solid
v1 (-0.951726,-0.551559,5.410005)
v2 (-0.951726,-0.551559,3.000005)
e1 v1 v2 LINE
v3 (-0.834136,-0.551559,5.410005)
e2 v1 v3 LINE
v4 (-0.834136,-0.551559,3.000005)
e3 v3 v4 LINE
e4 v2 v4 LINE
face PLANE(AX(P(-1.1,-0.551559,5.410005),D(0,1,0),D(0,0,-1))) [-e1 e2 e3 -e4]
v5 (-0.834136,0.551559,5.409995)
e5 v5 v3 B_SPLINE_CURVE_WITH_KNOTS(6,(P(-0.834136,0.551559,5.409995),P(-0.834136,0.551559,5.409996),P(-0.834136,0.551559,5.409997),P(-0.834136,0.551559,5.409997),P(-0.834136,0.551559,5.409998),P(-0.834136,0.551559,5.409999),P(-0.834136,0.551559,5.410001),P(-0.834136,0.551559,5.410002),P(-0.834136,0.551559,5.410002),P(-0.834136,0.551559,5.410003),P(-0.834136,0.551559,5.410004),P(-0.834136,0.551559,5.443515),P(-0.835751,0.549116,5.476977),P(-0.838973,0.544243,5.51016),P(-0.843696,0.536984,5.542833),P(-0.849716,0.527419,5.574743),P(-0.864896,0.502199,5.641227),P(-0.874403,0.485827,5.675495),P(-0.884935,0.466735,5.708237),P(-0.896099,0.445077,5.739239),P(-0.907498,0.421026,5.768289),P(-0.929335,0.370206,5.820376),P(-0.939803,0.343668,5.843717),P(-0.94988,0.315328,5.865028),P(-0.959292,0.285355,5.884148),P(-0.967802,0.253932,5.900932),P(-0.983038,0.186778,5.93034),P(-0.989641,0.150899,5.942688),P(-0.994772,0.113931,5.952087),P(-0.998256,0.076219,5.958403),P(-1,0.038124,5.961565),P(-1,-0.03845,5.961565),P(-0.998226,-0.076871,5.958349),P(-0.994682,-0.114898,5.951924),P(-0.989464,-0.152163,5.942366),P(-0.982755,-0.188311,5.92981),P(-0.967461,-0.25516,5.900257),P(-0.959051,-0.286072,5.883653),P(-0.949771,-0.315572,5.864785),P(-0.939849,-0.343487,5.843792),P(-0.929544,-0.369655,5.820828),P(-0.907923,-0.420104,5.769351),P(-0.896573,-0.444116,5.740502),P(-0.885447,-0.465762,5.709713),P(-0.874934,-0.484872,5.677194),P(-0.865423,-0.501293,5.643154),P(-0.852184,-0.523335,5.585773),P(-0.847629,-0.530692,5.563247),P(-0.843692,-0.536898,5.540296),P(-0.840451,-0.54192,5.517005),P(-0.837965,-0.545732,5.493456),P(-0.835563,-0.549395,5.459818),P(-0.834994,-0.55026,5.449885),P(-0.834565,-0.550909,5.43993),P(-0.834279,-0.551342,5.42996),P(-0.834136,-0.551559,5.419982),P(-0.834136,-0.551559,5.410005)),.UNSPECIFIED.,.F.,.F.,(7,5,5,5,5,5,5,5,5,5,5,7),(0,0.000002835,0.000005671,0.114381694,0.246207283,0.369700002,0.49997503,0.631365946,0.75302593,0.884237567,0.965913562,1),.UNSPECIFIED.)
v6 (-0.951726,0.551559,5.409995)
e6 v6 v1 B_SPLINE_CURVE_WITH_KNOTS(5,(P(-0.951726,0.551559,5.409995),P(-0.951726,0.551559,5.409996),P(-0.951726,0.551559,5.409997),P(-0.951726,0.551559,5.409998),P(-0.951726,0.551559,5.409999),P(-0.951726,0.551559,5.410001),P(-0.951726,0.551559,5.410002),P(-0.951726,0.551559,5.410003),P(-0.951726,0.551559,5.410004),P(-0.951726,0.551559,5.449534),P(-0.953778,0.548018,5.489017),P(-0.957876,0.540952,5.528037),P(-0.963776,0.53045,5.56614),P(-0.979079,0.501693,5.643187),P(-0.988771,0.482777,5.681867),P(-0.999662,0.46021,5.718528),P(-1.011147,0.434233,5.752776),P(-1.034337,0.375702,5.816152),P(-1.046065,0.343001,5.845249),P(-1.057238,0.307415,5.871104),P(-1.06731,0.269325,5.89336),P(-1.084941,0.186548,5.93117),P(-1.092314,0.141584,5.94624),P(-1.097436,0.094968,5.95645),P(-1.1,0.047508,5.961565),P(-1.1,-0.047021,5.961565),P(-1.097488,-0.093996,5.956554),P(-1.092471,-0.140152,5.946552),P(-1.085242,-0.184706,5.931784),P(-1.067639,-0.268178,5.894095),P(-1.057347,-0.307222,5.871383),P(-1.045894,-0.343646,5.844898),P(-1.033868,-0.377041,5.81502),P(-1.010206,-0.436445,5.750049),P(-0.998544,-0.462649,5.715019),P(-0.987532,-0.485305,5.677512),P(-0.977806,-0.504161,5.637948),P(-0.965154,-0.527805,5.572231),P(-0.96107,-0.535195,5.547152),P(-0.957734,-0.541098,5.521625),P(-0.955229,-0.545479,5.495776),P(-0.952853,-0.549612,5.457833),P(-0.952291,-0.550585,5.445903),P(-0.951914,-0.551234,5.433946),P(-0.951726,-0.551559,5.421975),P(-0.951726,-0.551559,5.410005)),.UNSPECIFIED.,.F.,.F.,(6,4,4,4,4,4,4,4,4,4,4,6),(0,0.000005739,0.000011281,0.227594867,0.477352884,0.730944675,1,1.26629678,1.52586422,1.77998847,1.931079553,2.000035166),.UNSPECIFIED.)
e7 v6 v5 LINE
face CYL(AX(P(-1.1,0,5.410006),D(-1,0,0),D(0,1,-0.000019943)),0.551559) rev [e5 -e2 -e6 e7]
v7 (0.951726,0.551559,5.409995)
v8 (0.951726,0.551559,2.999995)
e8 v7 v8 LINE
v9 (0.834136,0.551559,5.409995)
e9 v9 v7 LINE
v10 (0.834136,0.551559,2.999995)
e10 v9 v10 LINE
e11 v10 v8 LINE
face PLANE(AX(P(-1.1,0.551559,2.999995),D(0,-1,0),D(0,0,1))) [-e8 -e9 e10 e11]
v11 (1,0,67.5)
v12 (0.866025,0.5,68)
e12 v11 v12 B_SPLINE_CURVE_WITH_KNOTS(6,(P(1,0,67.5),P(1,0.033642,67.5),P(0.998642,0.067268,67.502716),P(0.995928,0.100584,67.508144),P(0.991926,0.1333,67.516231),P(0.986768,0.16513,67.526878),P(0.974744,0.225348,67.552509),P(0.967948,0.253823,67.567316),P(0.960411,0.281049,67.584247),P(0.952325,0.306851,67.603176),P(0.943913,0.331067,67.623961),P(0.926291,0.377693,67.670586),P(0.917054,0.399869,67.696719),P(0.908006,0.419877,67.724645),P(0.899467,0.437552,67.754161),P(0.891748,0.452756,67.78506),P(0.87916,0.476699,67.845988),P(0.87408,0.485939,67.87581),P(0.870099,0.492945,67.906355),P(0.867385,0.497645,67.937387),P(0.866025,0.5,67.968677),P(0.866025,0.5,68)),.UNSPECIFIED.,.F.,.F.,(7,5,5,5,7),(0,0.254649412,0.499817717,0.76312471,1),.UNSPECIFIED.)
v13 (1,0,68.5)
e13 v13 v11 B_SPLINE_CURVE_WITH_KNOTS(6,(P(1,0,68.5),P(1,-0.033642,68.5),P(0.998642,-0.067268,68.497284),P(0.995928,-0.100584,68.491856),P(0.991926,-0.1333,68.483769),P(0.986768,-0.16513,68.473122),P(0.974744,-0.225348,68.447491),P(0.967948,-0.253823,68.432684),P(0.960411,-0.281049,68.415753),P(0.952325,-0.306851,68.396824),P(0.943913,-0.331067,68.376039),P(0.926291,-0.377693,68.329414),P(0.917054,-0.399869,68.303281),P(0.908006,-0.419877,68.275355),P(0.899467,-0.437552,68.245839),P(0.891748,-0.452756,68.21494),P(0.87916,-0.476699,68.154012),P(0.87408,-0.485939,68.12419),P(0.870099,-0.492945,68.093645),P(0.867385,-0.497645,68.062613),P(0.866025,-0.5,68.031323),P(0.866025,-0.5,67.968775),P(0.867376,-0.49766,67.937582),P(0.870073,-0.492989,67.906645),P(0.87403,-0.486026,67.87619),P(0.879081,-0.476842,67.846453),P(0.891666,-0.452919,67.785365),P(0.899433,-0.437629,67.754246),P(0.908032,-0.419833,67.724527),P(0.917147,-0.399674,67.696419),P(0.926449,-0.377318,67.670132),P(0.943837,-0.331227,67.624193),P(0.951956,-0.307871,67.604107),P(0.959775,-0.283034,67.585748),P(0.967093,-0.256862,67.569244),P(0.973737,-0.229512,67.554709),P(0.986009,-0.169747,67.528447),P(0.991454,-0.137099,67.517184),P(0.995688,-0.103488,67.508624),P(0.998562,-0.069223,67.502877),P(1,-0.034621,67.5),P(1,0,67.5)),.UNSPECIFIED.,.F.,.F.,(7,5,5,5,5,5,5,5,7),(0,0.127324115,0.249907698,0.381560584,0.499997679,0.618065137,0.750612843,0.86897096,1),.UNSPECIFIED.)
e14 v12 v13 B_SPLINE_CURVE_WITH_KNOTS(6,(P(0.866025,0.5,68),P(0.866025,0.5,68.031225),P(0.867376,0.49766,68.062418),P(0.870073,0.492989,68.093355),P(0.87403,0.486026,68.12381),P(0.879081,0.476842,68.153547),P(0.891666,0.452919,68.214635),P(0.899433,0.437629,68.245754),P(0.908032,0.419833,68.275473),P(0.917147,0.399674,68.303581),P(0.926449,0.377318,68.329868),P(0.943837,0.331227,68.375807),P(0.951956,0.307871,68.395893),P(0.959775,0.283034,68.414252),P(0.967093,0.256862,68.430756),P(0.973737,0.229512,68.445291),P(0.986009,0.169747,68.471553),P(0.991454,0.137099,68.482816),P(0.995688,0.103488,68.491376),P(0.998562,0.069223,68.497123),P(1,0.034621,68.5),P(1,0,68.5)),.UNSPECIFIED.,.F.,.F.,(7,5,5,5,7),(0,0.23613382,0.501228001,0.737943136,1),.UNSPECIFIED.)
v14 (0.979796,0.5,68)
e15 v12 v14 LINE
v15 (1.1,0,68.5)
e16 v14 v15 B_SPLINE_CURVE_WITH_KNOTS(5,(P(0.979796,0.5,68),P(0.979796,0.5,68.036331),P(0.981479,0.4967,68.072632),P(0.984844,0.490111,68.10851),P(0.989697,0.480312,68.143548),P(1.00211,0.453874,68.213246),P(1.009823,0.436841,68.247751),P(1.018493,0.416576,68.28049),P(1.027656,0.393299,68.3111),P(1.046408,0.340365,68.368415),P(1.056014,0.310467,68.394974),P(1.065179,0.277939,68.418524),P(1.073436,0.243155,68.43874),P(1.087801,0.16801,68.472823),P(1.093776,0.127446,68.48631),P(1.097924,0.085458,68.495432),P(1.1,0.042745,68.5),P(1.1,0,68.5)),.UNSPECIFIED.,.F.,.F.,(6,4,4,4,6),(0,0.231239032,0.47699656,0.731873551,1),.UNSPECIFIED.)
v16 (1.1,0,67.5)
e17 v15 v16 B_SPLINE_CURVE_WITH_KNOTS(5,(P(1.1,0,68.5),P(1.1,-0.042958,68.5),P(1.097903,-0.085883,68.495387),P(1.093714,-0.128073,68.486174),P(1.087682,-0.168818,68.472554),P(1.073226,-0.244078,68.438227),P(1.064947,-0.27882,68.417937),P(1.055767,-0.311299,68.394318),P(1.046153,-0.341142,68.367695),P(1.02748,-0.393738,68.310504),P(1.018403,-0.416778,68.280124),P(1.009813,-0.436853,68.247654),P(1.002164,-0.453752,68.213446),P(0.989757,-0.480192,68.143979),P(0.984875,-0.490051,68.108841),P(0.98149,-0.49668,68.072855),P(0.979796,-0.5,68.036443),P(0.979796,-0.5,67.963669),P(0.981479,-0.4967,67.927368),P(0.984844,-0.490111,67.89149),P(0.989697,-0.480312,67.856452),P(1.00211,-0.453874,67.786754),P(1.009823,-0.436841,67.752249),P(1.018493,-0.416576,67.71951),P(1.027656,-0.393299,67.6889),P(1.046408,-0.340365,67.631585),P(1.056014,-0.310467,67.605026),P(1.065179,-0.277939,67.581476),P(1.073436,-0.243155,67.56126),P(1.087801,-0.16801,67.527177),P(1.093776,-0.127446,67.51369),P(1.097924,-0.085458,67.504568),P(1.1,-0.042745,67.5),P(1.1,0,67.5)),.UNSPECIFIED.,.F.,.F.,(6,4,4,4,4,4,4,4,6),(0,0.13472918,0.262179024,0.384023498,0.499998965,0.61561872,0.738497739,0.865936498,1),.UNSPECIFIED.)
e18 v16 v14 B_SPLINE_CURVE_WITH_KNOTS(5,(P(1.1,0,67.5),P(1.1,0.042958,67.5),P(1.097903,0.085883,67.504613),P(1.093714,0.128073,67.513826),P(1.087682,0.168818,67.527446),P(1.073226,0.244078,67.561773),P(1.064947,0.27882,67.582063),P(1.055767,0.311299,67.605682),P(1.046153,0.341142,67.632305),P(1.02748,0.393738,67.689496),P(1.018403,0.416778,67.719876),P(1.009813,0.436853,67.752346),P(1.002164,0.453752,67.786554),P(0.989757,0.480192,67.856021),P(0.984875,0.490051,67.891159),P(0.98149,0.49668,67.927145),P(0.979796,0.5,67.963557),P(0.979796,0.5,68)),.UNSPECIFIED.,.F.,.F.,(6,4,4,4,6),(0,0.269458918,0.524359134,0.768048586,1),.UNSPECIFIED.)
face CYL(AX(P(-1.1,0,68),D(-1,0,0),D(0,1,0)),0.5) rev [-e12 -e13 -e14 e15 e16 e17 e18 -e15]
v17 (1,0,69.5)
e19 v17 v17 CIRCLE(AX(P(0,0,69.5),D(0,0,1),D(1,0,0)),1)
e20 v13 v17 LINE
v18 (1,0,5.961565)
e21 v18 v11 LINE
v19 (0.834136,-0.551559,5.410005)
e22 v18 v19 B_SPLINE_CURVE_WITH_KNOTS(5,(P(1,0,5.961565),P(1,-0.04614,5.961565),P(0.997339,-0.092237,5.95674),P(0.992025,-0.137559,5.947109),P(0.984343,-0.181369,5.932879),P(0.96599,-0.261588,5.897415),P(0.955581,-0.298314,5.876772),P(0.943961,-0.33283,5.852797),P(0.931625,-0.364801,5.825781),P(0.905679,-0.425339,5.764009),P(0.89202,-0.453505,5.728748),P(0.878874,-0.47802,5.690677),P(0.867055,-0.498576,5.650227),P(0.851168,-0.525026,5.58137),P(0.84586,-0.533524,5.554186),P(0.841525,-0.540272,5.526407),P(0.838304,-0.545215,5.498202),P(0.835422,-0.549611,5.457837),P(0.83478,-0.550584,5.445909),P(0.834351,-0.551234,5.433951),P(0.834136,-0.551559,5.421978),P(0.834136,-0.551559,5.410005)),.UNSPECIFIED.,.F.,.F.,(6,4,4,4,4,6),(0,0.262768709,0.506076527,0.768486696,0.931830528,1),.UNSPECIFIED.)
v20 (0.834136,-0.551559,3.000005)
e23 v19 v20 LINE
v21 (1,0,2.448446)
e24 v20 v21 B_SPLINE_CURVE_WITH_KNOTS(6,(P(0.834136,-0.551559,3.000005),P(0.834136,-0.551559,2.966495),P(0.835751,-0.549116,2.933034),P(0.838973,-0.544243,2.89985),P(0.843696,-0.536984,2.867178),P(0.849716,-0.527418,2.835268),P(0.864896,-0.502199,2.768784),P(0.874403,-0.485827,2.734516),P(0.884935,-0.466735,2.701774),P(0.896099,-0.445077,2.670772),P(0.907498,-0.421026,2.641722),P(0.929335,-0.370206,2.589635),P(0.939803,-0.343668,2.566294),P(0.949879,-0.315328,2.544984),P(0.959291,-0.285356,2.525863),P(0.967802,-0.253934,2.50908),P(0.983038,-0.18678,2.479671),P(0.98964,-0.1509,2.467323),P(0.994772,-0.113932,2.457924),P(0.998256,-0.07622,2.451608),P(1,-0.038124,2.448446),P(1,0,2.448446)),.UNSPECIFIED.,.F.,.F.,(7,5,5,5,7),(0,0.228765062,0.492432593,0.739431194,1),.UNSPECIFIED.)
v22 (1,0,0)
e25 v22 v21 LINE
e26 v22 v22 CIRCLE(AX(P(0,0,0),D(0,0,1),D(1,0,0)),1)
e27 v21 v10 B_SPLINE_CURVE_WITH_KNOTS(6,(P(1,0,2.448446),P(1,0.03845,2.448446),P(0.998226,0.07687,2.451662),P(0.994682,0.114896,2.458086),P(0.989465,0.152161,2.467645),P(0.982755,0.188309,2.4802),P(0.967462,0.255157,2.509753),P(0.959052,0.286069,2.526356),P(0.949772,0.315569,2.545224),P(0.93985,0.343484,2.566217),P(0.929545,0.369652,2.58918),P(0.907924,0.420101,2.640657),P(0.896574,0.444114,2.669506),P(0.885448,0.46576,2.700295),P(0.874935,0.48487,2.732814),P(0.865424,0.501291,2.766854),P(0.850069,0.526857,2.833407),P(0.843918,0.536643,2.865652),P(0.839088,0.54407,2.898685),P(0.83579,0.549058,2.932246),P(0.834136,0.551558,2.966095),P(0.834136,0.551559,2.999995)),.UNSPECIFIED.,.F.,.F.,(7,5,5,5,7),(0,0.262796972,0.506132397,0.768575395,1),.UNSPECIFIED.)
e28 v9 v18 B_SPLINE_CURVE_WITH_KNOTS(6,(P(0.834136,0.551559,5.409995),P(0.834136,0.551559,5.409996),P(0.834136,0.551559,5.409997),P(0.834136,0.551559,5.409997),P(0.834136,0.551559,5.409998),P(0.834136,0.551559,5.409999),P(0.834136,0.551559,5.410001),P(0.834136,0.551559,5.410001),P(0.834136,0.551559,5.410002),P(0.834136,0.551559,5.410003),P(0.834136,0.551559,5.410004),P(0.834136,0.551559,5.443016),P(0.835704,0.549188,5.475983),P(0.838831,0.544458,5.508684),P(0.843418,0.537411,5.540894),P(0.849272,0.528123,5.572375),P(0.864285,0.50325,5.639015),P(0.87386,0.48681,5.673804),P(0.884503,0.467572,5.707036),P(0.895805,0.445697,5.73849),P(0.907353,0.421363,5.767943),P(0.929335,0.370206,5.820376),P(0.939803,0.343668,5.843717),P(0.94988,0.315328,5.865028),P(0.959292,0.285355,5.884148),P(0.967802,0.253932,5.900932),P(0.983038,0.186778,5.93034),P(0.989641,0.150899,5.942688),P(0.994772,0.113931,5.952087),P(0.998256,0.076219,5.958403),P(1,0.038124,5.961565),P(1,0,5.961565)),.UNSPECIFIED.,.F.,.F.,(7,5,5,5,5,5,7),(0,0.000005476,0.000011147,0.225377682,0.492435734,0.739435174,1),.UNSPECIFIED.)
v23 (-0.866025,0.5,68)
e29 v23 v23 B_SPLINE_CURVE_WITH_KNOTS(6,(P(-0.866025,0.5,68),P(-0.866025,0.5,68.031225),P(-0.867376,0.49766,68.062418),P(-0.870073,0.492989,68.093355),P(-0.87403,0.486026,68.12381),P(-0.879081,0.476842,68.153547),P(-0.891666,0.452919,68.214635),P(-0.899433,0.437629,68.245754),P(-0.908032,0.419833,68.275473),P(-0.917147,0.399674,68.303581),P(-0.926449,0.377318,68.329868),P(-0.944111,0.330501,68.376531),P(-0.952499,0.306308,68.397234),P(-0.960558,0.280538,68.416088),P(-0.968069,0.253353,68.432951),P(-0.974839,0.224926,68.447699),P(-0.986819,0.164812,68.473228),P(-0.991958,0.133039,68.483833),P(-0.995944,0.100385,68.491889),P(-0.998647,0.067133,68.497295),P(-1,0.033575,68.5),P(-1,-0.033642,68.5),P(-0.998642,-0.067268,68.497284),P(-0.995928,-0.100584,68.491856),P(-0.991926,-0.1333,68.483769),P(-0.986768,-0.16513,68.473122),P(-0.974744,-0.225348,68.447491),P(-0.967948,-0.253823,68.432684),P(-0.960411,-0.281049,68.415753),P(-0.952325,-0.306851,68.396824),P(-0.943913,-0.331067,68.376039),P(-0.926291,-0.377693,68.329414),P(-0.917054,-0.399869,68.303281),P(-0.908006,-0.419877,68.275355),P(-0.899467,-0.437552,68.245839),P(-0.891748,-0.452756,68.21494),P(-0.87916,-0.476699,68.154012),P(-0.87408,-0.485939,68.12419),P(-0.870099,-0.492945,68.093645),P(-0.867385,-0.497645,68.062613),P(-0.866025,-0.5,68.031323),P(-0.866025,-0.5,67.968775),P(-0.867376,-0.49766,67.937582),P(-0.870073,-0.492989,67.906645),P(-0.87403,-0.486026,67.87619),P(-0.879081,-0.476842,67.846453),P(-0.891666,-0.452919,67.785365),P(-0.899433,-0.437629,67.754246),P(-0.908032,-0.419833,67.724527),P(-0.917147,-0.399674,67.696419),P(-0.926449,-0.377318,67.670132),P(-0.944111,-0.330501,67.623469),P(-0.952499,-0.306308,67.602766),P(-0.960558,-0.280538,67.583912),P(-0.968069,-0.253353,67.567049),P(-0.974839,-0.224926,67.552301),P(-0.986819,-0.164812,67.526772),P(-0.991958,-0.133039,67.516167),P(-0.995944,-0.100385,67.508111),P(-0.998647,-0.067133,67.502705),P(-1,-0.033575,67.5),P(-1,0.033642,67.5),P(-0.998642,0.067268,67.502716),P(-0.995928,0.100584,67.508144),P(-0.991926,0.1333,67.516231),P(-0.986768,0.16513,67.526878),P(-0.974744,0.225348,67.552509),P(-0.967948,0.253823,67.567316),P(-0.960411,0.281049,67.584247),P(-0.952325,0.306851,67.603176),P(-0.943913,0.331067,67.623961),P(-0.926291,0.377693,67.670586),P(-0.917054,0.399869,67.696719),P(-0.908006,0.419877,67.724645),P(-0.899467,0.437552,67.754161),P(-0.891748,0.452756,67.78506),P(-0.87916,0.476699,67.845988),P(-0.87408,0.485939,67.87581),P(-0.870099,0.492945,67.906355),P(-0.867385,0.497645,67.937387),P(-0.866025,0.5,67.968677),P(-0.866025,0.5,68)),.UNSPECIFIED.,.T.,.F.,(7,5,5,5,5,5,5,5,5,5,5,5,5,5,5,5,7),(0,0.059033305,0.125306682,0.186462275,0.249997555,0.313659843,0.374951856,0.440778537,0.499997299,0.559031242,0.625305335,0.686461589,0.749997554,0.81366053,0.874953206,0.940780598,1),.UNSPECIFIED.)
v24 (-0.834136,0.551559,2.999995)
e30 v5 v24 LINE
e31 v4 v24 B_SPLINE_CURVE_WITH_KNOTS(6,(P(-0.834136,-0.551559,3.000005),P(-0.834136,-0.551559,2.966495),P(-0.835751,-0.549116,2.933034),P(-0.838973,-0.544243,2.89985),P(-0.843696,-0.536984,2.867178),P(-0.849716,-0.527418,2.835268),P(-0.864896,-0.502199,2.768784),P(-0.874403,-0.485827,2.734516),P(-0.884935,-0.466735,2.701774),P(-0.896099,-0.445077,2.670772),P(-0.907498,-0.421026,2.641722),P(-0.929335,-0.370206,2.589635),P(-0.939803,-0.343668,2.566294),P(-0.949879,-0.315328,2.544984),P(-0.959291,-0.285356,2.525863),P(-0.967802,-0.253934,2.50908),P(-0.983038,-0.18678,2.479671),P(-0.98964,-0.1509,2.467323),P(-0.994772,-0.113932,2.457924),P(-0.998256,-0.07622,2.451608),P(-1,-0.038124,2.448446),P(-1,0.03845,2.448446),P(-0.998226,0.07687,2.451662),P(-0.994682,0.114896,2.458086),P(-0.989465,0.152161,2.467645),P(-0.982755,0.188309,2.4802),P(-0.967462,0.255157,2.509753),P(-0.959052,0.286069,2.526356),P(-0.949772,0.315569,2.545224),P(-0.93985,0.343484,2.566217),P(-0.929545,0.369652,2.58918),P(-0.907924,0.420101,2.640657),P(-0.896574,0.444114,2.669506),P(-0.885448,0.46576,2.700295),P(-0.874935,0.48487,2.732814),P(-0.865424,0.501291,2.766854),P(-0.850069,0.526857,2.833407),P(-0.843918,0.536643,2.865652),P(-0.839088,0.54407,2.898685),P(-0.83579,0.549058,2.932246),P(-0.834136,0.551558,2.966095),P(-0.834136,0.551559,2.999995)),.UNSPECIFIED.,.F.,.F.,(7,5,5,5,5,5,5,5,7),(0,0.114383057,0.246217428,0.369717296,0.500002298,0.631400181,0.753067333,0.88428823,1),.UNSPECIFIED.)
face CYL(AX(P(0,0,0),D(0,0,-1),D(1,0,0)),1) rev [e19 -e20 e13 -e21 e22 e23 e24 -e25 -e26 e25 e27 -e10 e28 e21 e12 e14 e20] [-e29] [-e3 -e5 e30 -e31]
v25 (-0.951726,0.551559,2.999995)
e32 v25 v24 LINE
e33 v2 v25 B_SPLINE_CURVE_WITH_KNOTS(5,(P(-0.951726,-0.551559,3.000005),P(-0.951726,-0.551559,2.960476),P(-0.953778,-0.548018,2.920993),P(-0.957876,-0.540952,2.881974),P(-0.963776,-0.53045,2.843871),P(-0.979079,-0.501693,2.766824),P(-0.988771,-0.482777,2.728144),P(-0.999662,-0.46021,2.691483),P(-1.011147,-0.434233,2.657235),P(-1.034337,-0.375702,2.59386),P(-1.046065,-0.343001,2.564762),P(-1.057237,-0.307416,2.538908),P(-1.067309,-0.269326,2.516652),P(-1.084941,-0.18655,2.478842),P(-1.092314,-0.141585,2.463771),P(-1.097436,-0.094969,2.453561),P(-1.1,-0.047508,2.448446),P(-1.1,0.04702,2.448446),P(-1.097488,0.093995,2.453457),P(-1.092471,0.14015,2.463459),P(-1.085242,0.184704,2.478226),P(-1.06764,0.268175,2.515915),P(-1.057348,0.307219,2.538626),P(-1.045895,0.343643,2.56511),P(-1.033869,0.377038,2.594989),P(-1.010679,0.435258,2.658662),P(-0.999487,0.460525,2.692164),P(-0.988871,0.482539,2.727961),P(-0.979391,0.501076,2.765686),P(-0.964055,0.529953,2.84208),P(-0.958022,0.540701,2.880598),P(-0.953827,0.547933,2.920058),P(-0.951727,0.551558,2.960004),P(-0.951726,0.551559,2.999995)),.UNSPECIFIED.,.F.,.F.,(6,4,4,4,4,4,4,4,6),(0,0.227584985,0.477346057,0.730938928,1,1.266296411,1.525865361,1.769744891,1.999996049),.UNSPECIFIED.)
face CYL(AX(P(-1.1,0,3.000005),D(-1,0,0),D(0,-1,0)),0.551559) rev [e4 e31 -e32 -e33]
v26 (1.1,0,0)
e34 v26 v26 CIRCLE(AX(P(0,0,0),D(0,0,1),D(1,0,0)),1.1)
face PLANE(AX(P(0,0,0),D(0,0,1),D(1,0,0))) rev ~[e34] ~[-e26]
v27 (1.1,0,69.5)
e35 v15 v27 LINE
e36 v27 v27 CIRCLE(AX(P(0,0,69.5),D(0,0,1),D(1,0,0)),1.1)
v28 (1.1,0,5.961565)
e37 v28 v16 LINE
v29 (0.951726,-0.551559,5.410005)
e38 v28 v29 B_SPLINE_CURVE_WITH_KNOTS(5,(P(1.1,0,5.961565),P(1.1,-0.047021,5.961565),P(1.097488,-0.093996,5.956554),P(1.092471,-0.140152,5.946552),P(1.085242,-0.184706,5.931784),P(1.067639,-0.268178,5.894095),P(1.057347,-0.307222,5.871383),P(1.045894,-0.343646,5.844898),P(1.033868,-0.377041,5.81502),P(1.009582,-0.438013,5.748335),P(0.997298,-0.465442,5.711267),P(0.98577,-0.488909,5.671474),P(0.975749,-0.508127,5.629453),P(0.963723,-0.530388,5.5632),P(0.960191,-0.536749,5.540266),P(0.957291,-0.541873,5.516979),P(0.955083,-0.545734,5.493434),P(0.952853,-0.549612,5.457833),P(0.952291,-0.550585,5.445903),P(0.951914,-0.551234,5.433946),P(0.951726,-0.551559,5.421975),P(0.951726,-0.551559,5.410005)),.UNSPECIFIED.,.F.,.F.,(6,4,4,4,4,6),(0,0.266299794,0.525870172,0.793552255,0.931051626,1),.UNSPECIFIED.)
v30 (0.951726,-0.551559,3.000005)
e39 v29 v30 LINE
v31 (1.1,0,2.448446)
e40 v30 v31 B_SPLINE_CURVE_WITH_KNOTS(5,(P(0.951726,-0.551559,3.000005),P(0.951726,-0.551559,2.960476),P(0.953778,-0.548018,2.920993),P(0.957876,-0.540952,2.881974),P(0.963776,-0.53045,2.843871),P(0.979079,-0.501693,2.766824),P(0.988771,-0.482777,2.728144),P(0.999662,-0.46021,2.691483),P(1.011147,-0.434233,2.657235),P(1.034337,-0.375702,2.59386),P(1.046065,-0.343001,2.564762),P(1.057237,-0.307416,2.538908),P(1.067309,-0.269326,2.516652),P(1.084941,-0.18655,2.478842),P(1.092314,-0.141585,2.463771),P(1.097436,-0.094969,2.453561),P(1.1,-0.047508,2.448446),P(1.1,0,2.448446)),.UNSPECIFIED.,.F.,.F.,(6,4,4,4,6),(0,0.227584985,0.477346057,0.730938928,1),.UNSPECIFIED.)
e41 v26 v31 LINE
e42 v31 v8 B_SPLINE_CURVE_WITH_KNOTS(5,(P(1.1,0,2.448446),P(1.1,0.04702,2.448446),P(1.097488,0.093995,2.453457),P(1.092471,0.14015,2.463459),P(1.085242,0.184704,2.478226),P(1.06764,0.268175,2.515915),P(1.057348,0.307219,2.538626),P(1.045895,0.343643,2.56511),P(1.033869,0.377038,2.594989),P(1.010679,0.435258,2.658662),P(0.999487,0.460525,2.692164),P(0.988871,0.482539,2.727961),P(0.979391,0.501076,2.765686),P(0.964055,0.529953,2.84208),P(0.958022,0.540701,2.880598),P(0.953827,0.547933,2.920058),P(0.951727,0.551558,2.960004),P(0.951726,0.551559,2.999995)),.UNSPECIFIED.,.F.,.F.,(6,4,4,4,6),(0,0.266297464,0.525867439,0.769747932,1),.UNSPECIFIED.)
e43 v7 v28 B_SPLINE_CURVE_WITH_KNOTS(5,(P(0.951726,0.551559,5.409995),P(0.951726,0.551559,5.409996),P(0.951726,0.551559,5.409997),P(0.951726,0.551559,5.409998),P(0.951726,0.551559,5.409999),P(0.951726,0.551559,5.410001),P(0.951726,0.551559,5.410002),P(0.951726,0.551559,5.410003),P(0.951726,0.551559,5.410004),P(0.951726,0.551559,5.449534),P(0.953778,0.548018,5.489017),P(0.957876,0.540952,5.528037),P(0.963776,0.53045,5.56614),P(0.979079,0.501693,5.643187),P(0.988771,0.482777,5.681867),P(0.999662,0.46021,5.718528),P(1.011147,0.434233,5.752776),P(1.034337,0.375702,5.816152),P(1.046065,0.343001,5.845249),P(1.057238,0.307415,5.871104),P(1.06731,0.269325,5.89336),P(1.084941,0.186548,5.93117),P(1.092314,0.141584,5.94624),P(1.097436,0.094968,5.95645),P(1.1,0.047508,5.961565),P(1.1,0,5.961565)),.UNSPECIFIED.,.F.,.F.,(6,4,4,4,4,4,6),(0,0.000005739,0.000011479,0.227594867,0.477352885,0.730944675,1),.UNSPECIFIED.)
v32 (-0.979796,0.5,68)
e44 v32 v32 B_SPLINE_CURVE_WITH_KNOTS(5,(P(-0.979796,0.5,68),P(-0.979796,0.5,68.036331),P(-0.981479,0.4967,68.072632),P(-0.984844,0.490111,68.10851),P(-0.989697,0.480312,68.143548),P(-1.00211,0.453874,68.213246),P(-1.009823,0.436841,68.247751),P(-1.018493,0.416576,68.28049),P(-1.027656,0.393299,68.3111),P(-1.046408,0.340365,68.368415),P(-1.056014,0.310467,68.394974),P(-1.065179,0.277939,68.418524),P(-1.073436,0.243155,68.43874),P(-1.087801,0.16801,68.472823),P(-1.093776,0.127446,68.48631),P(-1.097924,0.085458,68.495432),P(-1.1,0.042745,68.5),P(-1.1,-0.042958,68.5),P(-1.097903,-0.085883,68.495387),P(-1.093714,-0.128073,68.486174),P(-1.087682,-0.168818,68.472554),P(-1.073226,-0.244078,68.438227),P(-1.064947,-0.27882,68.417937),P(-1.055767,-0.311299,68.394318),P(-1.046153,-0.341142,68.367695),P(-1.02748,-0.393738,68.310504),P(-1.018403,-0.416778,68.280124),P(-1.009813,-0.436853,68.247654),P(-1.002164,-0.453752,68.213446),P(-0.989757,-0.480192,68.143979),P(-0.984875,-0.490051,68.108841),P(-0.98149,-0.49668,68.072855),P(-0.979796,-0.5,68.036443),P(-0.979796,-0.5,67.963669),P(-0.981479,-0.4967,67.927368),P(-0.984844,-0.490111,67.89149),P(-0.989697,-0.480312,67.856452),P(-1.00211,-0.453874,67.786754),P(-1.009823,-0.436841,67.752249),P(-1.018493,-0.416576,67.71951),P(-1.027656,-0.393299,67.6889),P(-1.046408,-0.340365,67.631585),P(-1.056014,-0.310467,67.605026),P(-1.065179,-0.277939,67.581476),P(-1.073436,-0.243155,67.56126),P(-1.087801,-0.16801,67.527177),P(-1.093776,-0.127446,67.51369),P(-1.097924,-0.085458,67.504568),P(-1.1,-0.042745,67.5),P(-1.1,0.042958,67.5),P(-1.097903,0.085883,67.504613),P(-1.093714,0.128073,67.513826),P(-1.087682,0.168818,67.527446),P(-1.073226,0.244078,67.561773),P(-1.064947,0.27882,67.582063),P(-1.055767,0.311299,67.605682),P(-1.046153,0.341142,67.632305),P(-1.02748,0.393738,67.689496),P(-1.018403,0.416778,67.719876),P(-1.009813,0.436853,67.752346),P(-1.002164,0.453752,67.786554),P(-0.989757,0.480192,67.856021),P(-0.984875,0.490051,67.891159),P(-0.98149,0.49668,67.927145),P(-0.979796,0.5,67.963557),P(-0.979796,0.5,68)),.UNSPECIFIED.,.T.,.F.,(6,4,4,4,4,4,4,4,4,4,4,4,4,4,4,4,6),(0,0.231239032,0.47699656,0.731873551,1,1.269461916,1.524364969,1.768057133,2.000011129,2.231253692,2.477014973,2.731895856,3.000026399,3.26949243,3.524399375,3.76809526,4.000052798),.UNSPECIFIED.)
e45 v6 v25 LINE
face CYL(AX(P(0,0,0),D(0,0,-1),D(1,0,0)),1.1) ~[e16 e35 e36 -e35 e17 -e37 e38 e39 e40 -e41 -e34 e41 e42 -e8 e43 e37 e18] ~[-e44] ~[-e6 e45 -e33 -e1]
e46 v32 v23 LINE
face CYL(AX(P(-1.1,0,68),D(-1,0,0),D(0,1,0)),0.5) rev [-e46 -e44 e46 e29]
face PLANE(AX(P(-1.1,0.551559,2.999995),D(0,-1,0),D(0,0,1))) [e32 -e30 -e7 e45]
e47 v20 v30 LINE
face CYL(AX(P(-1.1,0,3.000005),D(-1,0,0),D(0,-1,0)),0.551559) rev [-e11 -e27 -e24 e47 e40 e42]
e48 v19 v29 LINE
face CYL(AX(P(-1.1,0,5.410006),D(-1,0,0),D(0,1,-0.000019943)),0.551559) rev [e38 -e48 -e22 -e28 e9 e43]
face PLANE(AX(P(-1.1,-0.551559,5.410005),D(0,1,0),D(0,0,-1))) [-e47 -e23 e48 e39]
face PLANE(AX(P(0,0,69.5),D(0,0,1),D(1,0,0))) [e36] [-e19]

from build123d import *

# Parameters (mm, degrees)
F0_R     = 1.1
F0_R_2   = 1
F1_DEPTH = 69.5
F4_DEPTH = 3.03737
F5_R     = 0.5
F6_DEPTH = 25


with BuildPart() as f1:
    # F0 (on Top) → F1 (new body)
    with BuildSketch(Plane.XY):
        Circle(F0_R)
        Circle(F0_R_2, mode=Mode.SUBTRACT)
    extrude(amount=F1_DEPTH)

    # F3 (on offset) → F4 (cut)
    with BuildSketch(Plane.YZ.offset(-1.1)):
        with BuildLine():
            Line((0.551559, 2.999995), (0.551559, 5.409995))
            ThreePointArc((0.551559, 5.409995), (5e-06, 5.961565), (-0.551559, 5.410005))
            Line((-0.551559, 5.410005), (-0.551559, 3.000005))
            ThreePointArc((-0.551559, 3.000005), (-5e-06, 2.448446), (0.551559, 2.999995))
        make_face()
    extrude(amount=F4_DEPTH, mode=Mode.SUBTRACT)

    # F5 (on offset) → F6 (cut)
    with BuildSketch(Plane.YZ.offset(-1.1)):
        with Locations((0, 68)):
            Circle(F5_R)
    extrude(amount=F6_DEPTH, mode=Mode.SUBTRACT)


solid = f1.part
